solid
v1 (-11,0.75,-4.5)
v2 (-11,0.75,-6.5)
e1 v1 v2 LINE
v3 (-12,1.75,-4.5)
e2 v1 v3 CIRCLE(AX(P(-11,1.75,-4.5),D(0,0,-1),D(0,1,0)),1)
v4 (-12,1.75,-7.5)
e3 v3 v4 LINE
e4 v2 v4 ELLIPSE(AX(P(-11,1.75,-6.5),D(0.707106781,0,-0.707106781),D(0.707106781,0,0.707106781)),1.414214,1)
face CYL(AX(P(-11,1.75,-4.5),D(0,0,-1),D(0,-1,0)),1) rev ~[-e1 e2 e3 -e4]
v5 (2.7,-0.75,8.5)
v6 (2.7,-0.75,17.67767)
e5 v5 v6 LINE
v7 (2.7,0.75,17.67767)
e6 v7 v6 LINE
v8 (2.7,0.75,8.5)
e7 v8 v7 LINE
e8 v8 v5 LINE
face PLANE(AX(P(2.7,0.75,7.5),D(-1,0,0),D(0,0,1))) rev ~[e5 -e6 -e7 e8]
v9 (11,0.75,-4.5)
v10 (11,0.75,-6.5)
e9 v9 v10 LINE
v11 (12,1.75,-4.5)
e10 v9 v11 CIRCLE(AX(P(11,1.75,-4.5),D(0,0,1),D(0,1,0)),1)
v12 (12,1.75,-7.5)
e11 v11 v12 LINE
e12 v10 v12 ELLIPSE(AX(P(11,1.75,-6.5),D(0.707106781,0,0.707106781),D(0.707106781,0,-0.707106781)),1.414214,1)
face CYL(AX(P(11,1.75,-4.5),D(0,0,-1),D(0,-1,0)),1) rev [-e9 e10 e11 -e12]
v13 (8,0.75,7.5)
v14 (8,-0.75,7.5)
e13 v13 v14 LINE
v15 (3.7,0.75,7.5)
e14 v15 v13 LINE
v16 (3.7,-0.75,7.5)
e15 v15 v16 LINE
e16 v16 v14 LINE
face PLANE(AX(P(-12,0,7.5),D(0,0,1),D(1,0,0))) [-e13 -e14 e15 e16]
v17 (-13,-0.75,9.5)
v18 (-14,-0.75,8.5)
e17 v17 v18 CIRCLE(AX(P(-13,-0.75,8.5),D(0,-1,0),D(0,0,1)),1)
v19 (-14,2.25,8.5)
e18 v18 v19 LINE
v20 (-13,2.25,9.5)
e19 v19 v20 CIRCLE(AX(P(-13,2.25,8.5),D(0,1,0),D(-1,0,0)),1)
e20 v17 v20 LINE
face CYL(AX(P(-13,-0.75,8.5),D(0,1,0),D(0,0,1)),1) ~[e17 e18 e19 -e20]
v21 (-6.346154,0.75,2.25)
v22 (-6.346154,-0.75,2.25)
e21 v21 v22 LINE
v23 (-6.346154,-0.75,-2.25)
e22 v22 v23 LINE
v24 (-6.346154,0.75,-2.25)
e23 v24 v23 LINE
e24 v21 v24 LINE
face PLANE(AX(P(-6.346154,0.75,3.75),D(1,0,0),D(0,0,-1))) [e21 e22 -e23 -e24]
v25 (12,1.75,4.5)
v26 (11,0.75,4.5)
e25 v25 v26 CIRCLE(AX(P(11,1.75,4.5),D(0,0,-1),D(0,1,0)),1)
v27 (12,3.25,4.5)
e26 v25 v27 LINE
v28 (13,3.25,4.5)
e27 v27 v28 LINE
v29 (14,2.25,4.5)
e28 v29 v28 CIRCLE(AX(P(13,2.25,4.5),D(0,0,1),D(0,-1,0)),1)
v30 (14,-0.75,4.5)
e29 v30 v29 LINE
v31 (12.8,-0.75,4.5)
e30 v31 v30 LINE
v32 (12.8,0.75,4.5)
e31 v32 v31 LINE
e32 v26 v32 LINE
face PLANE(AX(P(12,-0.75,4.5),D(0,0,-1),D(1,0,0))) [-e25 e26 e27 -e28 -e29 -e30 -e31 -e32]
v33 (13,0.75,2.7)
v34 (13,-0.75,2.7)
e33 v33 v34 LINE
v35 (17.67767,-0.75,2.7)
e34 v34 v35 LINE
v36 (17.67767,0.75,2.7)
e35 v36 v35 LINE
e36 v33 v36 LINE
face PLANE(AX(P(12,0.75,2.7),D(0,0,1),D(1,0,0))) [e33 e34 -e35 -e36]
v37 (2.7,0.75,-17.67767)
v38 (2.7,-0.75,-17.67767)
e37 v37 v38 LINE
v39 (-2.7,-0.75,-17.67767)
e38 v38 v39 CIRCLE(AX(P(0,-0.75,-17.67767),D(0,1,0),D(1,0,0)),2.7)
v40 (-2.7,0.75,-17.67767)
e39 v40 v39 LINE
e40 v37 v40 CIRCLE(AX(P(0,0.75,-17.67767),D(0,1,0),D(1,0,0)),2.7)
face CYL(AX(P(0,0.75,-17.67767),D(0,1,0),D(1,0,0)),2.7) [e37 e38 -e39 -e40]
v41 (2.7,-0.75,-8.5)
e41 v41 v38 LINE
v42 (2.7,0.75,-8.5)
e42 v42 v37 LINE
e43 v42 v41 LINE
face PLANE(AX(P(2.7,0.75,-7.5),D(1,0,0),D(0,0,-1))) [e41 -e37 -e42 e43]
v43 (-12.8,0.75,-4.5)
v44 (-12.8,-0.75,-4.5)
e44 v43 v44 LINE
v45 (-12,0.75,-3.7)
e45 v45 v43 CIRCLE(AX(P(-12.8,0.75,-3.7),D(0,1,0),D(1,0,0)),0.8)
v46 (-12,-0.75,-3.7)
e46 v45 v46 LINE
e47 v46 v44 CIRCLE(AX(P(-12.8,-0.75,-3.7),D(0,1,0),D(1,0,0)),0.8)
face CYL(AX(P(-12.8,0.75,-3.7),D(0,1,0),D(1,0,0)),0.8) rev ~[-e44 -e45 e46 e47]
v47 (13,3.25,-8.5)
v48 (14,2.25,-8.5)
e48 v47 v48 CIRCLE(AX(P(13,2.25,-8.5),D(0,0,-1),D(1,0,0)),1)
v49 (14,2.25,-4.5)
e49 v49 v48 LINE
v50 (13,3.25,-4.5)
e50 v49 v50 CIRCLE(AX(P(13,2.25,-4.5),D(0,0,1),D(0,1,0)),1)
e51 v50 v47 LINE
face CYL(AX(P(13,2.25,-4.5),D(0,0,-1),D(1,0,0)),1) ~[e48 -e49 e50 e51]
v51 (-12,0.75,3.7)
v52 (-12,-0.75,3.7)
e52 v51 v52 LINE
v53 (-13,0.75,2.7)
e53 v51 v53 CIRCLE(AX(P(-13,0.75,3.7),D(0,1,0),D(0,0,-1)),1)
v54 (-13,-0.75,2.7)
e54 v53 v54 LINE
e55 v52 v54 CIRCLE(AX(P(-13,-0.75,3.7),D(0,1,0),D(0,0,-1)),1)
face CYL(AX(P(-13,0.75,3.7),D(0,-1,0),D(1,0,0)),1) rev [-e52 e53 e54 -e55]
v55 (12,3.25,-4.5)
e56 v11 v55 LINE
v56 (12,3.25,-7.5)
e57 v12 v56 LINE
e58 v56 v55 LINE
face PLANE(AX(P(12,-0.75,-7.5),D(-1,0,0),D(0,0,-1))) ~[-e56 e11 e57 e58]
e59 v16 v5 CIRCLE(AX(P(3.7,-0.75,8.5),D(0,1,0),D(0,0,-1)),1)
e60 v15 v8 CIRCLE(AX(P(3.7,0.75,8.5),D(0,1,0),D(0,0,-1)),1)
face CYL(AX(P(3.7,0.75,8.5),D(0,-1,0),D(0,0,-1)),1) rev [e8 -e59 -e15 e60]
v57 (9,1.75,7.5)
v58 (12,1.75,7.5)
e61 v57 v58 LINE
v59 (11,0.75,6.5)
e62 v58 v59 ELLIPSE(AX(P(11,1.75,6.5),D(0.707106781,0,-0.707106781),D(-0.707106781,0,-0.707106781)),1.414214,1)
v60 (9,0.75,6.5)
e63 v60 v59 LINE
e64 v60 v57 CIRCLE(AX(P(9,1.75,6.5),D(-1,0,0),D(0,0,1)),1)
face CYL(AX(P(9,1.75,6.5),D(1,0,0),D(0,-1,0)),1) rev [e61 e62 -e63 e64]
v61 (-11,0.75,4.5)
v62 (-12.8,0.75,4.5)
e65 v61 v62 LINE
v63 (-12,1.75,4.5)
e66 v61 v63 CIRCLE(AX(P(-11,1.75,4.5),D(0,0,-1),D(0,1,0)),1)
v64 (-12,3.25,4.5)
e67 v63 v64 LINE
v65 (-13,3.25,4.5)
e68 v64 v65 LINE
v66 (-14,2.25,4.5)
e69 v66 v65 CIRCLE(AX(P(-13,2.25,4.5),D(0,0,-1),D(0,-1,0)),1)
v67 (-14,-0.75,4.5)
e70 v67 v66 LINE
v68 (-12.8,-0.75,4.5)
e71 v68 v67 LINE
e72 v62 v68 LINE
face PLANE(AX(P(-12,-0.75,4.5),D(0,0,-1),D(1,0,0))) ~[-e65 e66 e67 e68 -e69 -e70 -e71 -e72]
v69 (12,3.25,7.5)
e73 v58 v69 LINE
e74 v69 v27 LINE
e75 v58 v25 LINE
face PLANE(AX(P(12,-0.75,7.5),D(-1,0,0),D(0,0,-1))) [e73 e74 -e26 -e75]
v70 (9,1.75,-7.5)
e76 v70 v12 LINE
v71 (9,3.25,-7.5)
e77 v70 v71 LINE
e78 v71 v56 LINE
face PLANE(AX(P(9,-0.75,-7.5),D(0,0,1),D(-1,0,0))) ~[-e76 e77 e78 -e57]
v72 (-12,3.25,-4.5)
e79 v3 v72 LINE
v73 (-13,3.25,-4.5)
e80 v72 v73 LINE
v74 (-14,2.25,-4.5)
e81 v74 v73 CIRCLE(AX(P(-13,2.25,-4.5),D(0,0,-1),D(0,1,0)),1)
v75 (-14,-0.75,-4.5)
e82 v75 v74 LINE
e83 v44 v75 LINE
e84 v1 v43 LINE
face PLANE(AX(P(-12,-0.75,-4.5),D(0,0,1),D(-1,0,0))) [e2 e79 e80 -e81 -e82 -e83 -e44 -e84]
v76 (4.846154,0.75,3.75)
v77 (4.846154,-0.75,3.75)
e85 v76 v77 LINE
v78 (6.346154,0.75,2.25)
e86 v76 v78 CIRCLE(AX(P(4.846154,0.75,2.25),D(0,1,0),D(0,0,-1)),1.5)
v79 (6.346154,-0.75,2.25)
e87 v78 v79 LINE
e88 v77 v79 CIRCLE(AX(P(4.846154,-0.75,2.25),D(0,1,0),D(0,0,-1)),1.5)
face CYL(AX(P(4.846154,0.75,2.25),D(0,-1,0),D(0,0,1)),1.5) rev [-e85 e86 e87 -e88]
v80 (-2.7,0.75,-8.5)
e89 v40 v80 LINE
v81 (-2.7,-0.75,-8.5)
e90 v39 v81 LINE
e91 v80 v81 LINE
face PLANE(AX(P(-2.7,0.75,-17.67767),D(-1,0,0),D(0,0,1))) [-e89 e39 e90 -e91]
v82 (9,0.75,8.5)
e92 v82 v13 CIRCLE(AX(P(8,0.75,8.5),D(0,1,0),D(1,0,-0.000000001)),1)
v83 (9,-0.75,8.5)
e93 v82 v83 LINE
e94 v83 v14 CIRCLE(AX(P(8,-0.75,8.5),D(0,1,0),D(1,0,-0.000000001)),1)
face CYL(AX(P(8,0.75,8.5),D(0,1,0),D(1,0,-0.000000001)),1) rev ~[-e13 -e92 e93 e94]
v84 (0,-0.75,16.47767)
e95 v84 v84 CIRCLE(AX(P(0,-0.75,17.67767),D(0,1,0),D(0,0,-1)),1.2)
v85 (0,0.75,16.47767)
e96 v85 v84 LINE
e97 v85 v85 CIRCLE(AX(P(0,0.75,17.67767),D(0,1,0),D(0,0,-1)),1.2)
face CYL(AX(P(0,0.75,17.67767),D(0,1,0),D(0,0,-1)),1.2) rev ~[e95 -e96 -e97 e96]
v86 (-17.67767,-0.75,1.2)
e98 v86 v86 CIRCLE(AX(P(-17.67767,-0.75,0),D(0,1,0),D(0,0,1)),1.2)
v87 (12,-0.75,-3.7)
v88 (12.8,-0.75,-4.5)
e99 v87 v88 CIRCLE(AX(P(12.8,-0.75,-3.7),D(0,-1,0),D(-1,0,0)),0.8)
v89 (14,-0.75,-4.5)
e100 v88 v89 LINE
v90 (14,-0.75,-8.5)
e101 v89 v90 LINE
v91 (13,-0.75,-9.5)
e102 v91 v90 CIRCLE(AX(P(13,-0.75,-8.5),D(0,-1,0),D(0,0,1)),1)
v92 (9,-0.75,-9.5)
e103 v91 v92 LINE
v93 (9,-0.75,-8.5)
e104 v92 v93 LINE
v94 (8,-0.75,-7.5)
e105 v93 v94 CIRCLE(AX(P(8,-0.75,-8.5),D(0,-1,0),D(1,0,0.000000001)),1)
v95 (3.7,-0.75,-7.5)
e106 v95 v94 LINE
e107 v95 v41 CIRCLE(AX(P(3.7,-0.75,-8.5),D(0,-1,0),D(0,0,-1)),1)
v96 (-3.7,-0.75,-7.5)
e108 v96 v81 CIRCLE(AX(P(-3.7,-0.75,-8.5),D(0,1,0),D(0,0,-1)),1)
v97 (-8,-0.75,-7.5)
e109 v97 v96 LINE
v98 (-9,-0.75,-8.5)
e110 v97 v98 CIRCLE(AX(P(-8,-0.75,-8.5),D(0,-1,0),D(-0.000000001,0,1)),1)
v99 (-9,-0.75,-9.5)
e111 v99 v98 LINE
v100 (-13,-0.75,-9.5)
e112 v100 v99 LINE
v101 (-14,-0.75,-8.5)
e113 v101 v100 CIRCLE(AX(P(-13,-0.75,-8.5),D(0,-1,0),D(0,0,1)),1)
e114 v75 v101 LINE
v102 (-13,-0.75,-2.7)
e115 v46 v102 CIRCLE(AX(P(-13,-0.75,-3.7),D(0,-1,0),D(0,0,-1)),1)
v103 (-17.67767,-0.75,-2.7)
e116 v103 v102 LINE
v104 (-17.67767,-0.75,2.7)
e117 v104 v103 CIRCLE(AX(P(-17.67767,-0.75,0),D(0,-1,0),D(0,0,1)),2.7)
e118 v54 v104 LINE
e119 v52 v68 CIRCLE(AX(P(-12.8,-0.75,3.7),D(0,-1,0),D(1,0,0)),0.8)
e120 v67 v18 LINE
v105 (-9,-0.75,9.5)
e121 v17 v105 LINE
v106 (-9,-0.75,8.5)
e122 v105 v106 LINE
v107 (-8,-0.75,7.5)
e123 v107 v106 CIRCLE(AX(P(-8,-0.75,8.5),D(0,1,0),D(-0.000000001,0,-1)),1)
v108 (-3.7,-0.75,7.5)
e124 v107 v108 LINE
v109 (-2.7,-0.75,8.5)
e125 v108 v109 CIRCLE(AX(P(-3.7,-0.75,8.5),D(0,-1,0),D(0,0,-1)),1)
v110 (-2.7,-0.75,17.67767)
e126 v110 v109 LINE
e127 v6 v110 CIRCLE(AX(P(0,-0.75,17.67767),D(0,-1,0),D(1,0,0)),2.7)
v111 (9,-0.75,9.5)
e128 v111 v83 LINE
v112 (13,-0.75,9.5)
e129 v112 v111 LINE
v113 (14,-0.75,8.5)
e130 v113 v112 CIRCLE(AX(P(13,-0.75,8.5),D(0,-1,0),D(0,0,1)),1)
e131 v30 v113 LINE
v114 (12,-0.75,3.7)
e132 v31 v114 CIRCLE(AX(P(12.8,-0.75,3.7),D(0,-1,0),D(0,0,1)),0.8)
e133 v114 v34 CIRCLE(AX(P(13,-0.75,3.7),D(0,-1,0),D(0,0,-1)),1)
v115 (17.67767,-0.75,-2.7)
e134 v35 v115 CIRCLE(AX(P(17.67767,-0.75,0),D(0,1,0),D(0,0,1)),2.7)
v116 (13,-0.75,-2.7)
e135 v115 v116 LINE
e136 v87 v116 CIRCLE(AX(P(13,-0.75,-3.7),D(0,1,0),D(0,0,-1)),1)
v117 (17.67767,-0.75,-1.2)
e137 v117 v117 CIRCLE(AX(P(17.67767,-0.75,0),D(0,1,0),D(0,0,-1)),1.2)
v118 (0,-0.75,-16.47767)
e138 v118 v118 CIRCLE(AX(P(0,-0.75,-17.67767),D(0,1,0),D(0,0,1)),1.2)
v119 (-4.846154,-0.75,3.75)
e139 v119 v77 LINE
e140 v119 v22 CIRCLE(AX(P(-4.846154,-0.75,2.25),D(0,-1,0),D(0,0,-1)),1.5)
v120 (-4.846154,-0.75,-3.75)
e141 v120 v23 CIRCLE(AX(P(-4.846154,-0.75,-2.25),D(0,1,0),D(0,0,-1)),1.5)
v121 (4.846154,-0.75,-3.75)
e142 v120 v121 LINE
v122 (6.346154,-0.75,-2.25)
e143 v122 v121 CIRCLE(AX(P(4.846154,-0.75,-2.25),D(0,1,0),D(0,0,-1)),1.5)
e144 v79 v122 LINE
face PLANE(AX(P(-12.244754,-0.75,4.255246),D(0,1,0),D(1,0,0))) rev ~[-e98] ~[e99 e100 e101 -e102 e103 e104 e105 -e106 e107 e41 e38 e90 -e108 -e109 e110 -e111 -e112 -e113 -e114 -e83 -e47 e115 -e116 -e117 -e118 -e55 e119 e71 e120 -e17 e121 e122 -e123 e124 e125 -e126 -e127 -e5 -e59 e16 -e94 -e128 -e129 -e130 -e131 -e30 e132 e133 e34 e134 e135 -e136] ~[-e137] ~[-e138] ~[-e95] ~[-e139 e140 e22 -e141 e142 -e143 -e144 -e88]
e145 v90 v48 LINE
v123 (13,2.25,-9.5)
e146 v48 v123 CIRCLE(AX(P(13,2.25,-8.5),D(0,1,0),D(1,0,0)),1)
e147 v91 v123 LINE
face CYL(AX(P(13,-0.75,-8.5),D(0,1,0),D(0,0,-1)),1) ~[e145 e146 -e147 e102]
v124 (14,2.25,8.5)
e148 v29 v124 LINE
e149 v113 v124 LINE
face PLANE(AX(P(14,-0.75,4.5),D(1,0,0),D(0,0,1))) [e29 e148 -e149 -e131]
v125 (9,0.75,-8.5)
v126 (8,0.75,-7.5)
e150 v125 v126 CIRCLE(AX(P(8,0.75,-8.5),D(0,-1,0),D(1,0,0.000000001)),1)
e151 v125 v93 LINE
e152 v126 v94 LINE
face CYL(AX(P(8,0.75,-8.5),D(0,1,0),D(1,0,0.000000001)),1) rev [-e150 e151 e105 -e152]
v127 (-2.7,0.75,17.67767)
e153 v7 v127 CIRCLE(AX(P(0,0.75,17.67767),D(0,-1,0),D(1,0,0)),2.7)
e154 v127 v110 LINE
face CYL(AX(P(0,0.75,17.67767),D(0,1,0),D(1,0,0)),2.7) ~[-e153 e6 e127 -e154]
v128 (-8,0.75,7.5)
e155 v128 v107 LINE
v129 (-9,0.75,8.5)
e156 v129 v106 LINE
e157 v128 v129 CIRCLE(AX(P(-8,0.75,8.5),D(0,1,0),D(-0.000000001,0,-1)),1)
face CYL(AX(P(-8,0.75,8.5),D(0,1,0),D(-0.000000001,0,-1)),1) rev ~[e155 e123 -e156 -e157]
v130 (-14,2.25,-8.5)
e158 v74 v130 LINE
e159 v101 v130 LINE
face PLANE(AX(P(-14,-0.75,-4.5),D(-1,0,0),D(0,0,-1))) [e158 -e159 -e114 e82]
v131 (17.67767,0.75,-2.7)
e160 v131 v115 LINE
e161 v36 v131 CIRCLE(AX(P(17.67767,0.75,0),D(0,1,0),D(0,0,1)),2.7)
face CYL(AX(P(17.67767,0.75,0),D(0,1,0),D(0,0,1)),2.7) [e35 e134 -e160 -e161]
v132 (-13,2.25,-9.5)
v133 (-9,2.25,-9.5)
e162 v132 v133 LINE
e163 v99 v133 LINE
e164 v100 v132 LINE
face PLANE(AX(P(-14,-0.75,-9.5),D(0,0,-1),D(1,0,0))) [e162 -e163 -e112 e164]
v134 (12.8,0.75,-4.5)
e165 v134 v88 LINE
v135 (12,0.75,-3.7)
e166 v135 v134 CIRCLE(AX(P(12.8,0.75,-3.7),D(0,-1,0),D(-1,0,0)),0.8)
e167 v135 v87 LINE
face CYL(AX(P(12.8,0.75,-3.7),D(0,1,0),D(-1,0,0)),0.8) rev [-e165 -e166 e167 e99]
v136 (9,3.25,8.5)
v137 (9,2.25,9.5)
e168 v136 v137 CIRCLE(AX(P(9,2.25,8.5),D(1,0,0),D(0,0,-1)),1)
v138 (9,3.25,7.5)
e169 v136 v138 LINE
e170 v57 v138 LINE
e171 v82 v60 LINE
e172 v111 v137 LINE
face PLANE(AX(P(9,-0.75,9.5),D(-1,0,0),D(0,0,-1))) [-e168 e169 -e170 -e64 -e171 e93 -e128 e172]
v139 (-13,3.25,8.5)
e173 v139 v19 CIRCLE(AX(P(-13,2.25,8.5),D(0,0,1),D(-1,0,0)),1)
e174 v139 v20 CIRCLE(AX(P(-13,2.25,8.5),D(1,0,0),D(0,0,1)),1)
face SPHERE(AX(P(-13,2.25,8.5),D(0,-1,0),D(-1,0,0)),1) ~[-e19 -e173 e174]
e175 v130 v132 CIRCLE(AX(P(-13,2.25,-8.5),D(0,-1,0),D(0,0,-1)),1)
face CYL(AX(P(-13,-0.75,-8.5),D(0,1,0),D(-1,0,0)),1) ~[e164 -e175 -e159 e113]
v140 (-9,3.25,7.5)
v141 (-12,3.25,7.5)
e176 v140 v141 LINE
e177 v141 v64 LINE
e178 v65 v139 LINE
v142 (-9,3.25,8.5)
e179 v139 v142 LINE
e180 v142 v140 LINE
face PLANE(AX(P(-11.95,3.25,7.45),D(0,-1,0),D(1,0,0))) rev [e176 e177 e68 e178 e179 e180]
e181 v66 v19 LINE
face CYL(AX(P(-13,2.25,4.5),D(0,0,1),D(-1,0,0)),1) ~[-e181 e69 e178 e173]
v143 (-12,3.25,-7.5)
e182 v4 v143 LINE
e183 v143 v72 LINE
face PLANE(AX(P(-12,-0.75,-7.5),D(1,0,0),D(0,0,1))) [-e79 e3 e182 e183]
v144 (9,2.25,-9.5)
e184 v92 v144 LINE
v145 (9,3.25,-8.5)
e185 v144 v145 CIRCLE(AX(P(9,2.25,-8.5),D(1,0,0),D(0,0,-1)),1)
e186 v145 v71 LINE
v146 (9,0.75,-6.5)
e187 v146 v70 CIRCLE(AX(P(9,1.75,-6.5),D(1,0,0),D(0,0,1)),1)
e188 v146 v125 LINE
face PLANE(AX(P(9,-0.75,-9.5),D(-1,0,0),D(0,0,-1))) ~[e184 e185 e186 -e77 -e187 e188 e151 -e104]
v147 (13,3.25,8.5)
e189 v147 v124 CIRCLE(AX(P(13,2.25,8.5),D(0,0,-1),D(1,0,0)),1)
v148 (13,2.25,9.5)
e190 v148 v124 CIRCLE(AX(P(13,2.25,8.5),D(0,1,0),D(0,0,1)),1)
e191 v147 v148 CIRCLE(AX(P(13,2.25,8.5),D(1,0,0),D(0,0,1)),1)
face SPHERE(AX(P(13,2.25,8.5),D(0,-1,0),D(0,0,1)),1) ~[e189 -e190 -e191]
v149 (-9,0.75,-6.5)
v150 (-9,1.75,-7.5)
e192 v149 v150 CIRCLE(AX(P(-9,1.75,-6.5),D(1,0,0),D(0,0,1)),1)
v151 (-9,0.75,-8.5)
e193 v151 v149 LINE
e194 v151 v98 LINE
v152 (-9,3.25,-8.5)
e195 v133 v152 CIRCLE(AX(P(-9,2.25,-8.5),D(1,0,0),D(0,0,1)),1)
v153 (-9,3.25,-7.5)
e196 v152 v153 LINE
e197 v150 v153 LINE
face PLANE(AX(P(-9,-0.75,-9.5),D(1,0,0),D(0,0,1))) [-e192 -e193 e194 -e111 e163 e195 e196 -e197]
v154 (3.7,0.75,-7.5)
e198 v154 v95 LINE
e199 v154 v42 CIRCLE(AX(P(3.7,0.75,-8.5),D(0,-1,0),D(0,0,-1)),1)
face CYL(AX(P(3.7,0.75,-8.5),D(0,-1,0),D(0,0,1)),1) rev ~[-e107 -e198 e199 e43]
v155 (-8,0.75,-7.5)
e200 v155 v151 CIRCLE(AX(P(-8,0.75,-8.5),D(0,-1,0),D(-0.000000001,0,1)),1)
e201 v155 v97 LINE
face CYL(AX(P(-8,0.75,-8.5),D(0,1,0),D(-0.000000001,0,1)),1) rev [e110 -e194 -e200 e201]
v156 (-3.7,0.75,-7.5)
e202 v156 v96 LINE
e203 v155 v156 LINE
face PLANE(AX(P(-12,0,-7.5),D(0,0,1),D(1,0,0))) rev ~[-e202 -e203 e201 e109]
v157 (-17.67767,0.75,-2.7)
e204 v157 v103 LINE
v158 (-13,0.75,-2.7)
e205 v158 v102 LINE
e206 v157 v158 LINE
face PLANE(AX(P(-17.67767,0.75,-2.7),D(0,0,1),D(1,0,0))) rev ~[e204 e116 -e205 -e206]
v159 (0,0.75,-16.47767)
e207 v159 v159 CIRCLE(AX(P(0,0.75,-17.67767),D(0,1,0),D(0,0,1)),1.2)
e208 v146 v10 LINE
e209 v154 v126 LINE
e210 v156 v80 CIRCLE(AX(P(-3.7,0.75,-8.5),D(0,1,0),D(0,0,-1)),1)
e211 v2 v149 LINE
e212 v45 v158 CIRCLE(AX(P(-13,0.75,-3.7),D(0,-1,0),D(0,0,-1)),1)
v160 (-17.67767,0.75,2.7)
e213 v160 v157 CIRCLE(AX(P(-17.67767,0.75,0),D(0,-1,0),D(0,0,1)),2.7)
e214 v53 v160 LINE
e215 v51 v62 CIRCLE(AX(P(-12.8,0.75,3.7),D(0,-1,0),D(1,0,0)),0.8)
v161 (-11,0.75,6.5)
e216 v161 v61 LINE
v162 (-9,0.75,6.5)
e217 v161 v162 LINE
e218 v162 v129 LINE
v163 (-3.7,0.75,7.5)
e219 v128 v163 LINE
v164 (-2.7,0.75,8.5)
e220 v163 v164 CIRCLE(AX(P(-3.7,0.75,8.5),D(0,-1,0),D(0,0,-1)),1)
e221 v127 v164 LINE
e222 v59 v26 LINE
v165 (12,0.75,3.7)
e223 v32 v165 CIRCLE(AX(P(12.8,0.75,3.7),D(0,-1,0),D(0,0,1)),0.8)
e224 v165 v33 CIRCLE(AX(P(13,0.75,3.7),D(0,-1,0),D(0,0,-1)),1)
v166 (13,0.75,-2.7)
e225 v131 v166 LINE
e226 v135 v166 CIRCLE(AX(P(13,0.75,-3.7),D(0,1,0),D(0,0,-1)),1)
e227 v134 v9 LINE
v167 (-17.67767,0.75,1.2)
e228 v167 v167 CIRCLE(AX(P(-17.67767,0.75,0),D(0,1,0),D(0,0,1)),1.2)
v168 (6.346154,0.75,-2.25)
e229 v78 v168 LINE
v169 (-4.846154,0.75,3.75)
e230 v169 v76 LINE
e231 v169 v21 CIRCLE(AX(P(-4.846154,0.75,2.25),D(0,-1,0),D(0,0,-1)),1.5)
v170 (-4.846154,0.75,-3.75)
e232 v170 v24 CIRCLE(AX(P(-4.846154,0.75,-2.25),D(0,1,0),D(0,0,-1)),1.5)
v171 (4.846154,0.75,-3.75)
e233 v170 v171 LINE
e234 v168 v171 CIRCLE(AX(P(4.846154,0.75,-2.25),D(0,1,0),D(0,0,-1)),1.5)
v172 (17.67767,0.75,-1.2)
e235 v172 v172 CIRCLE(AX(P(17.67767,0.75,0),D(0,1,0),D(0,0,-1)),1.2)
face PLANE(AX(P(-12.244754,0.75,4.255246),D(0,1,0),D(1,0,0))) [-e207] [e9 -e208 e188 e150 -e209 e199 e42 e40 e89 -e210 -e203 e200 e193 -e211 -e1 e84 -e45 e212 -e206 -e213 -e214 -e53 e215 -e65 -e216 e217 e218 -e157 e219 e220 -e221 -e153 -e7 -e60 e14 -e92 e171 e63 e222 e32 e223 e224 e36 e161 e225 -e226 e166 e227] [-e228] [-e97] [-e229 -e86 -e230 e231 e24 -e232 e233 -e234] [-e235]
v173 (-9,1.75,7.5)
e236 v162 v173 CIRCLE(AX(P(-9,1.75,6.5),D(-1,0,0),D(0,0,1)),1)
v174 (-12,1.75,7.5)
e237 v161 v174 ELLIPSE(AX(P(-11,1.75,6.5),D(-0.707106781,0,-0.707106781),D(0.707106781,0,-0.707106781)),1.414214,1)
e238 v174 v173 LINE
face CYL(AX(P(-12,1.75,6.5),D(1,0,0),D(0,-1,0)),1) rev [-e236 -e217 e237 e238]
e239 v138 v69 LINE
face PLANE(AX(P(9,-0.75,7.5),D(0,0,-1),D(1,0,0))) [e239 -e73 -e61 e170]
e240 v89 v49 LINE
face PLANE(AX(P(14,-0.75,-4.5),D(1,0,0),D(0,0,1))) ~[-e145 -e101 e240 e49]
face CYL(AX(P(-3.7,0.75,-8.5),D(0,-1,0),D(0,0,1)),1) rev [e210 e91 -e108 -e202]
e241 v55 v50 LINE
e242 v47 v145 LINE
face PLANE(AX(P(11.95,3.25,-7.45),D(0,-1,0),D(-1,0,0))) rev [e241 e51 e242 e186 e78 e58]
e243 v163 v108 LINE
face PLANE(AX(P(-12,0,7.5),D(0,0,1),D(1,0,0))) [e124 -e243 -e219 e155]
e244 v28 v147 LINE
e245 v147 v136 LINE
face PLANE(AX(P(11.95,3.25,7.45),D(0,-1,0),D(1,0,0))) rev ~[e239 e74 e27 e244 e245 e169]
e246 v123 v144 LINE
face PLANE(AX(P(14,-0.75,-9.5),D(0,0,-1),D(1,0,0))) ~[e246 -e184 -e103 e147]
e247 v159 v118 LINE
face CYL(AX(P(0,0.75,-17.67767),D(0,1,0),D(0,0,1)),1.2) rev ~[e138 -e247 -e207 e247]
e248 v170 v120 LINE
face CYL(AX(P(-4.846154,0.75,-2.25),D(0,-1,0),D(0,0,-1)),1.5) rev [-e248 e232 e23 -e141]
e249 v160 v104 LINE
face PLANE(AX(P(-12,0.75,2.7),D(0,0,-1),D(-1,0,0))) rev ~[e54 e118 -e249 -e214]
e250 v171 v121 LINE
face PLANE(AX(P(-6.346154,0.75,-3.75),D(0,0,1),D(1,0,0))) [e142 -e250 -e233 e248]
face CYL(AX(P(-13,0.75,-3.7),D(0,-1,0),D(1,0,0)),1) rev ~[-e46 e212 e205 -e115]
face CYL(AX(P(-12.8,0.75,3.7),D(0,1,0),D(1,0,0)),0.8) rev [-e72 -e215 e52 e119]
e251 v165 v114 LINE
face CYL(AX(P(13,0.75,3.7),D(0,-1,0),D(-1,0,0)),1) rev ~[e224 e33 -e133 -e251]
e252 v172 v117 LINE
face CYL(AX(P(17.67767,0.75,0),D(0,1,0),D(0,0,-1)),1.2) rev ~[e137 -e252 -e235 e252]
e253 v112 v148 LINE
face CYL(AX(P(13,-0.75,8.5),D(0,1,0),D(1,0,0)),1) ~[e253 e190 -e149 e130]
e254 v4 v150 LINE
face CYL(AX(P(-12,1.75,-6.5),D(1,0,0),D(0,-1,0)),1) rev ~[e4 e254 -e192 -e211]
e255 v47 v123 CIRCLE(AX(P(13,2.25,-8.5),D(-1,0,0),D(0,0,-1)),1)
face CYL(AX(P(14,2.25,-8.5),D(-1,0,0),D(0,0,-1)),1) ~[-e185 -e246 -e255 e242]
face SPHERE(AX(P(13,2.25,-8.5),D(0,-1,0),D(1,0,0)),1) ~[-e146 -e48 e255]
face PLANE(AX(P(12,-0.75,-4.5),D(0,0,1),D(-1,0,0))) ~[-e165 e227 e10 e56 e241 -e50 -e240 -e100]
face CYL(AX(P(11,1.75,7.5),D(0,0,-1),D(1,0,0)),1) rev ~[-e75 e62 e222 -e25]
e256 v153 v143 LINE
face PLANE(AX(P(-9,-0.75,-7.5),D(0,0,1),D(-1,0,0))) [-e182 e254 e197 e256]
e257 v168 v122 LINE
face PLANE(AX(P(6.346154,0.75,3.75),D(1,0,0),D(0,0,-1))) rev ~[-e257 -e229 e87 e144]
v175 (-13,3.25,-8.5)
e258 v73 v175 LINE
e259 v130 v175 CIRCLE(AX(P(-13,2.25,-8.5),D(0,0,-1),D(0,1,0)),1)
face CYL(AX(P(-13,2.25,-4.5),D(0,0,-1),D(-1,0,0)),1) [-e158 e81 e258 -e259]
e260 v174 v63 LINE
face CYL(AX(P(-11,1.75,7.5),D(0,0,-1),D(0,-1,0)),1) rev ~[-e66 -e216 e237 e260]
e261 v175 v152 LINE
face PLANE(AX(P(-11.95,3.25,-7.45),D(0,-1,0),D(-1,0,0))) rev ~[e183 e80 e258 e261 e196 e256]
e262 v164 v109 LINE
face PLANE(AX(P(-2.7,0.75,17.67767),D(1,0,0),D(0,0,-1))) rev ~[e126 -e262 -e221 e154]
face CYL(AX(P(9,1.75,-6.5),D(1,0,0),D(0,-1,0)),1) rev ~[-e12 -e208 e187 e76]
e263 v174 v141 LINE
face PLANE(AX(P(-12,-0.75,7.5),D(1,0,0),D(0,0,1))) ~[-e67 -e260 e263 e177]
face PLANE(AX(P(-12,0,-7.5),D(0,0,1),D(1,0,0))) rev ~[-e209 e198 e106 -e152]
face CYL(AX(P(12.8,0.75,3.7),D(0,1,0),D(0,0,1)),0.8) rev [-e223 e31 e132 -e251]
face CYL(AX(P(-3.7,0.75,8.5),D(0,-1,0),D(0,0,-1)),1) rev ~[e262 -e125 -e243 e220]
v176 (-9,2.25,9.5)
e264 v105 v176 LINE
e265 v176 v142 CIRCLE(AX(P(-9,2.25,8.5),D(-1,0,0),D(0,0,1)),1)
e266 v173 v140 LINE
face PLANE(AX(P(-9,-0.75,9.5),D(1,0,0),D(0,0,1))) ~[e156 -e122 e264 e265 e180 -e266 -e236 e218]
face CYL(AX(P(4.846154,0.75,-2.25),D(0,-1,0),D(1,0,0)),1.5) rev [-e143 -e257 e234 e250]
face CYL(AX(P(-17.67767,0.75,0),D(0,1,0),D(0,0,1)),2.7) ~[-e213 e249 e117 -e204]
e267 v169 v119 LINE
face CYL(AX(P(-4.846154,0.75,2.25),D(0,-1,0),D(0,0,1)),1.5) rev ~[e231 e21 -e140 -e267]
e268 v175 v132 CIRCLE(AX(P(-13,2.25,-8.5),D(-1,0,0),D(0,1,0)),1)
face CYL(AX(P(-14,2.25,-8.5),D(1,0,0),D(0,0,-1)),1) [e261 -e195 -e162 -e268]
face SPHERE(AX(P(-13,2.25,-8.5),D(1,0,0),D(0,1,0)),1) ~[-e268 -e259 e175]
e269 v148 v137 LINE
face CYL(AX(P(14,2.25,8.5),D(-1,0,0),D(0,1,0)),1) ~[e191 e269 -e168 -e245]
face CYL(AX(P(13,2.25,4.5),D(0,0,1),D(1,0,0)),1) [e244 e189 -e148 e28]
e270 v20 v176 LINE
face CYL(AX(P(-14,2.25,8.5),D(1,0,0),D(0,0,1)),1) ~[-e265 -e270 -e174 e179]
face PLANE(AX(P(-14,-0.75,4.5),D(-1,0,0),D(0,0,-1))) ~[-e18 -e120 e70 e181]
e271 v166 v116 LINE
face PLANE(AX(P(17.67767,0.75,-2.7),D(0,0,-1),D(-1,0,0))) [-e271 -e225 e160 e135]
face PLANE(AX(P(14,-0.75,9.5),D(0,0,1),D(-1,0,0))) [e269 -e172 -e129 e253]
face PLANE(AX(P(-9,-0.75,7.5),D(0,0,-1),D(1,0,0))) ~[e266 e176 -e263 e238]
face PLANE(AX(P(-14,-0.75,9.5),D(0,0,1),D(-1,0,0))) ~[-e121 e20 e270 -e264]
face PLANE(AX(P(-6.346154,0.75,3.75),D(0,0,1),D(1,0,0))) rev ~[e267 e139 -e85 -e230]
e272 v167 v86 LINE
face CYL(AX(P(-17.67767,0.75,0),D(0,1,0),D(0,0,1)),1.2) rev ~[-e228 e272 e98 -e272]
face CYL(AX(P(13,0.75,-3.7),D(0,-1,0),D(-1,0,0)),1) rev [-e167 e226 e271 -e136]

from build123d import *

# Parameters (mm, degrees)
SKETCH1_W            = 24
SKETCH1_H            = 15
BOSS_EXTRUDE1_DEPTH  = 0.75
BOSS_EXTRUDE2_START  = -1.5
BOSS_EXTRUDE2_DEPTH  = 4
MIRROR2_START        = -1.5
MIRROR2_COPY_1_DEPTH = 4
SKETCH3_R            = 1.2
BOSS_EXTRUDE3_DEPTH  = 1.5
FILLET1_R            = 1
BOSS_EXTRUDE4_DEPTH  = 1.5
SKETCH5_W            = 12.692307692
SKETCH5_H            = 7.5
CUT_EXTRUDE1_DEPTH   = 1.5
FILLET2_R            = 1.5


with BuildPart() as part:
    # Sketch1 → Boss-Extrude1 (new, symmetric)
    with BuildSketch(Plane(origin=(0, 0, 0), x_dir=(1, 0, 0), z_dir=(0, 1, 0))):
        Rectangle(SKETCH1_W, SKETCH1_H)
    extrude(amount=BOSS_EXTRUDE1_DEPTH, both=True)

    # Sketch2 → Boss-Extrude2 (add)
    with BuildSketch(Plane(origin=(0, 0.75, 0), x_dir=(1, 0, 0), z_dir=(0, 1, 0)).offset(BOSS_EXTRUDE2_START)):
        Polygon((-12, 4.5), (-14, 4.5), (-14, 9.5), (-9, 9.5), (-9, 7.5), (-12, 7.5), align=None)
    boss_extrude2 = extrude(amount=BOSS_EXTRUDE2_DEPTH)

    # Mirror1: Boss-Extrude2 across plane
    add(boss_extrude2.mirror(Plane(origin=(0, 0, 0), x_dir=(0, 0, 1), z_dir=(1, 0, 0))))

    # Mirror2: Boss-Extrude2 across plane
    add(boss_extrude2.mirror(Plane.XY))

    # Mirror2 copy 1 sketch → Mirror2 copy 1 (add)
    with BuildSketch(Plane(origin=(0, 0.75, 0), x_dir=(-1, 0, 0), z_dir=(0, 1, 0)).offset(MIRROR2_START)):
        Polygon((-12, 4.5), (-14, 4.5), (-14, 9.5), (-9, 9.5), (-9, 7.5), (-12, 7.5), align=None)
    extrude(amount=MIRROR2_COPY_1_DEPTH)

    # Sketch3 → Boss-Extrude3 (add)
    # profile 1 of 4: a face of its own
    with BuildSketch(Plane(origin=(0, 0.75, 0), x_dir=(1, 0, 0), z_dir=(0, 1, 0))):
        with BuildLine():
            Line((-17.67766953, 2.7), (-12, 2.7))
            Line((-12, 2.7), (-12, -2.7))
            Line((-12, -2.7), (-17.67766953, -2.7))
            ThreePointArc((-17.67766953, -2.7), (-20.37766953, 0), (-17.67766953, 2.7))
        make_face()
        with Locations(Location((-17.67766953, 0, 0), (0, 0, 270))):
            Circle(SKETCH3_R, mode=Mode.SUBTRACT)
    # profile 2 of 4: a face of its own
    with BuildSketch(Plane(origin=(0, 0.75, 0), x_dir=(1, 0, 0), z_dir=(0, 1, 0))):
        with BuildLine():
            Line((-2.7, 17.67766953), (-2.7, 7.5))
            Line((-2.7, 7.5), (2.7, 7.5))
            Line((2.7, 7.5), (2.7, 17.67766953))
            ThreePointArc((2.7, 17.67766953), (0, 20.37766953), (-2.7, 17.67766953))
        make_face()
        with Locations(Location((0, 17.67766953, 0), (0, 0, 270))):
            Circle(SKETCH3_R, mode=Mode.SUBTRACT)
    # profile 3 of 4: a face of its own
    with BuildSketch(Plane(origin=(0, 0.75, 0), x_dir=(1, 0, 0), z_dir=(0, 1, 0))):
        with BuildLine():
            Line((12, -2.7), (17.67766953, -2.7))
            ThreePointArc((17.67766953, -2.7), (20.37766953, 0), (17.67766953, 2.7))
            Line((17.67766953, 2.7), (12, 2.7))
            Line((12, 2.7), (12, -2.7))
        make_face()
        with Locations(Location((17.67766953, 0, 0), (0, 0, 90))):
            Circle(SKETCH3_R, mode=Mode.SUBTRACT)
    # profile 4 of 4: a face of its own
    with BuildSketch(Plane(origin=(0, 0.75, 0), x_dir=(1, 0, 0), z_dir=(0, 1, 0))):
        with BuildLine():
            Line((-2.7, -7.5), (2.7, -7.5))
            Line((2.7, -7.5), (2.7, -17.67766953))
            ThreePointArc((2.7, -17.67766953), (0, -20.37766953), (-2.7, -17.67766953))
            Line((-2.7, -17.67766953), (-2.7, -7.5))
        make_face()
        with Locations(Location((0, -17.67766953, 0), (0, 0, 90))):
            Circle(SKETCH3_R, mode=Mode.SUBTRACT)
    extrude(amount=-BOSS_EXTRUDE3_DEPTH)

    # Fillet1
    fillet1_edges = [part.edges().sort_by_distance(p)[0] for p in [
        (-14, 1.25, 9.5),
        (-14, 3.25, 7),
        (-11.5, 3.25, 9.5),
        (14, 1.25, 9.5),
        (11.5, 3.25, 9.5),
        (14, 3.25, 7),
        (14, 1.25, -9.5),
        (14, 3.25, -7),
        (11.5, 3.25, -9.5),
        (-11.5, 3.25, -9.5),
        (-14, 3.25, -7),
        (-14, 1.25, -9.5),
        (-10.5, 0.75, -7.5),
        (-12, 0.75, -6),
        (10.5, 0.75, -7.5),
        (12, 0.75, -6),
        (12, 0.75, 6),
        (10.5, 0.75, 7.5),
        (-10.5, 0.75, 7.5),
        (-12, 0.75, 6),
        (2.7, 0, -7.5),
        (-2.7, 0, -7.5),
        (-2.7, 0, 7.5),
        (2.7, 0, 7.5),
        (12, 0, 2.7),
        (12, 0, -2.7),
        (-12, 0, 2.7),
        (-12, 0, -2.7),
    ]]
    fillet(fillet1_edges, radius=FILLET1_R)

    # Sketch4 → Boss-Extrude4 (add)
    with BuildSketch(Plane(origin=(0, 0.75, 0), x_dir=(1, 0, 0), z_dir=(0, 1, 0))):
        with BuildLine():
            Line((-12.8, -4.5), (-12, -4.5))
            Line((-12, -4.5), (-12, -3.7))
            ThreePointArc((-12, -3.7), (-12.234314575, -4.265685425), (-12.8, -4.5))
        make_face()
        with BuildLine():
            Line((-12.8, 4.5), (-12, 4.5))
            Line((-12, 4.5), (-12, 3.7))
            ThreePointArc((-12, 3.7), (-12.234314575, 4.265685425), (-12.8, 4.5))
        make_face()
        with BuildLine():
            Line((12.8, 4.5), (12, 4.5))
            Line((12, 4.5), (12, 3.7))
            ThreePointArc((12, 3.7), (12.234314575, 4.265685425), (12.8, 4.5))
        make_face()
        with BuildLine():
            Line((12, -3.7), (12, -4.5))
            Line((12, -4.5), (12.8, -4.5))
            ThreePointArc((12.8, -4.5), (12.234314575, -4.265685425), (12, -3.7))
        make_face()
        with BuildLine():
            Line((-9, 8.5), (-9, 7.5))
            Line((-9, 7.5), (-8, 7.5))
            ThreePointArc((-8, 7.5), (-8.707106781, 7.792893219), (-9, 8.5))
        make_face()
        with BuildLine():
            Line((8, 7.5), (9, 7.5))
            Line((9, 7.5), (9, 8.5))
            ThreePointArc((9, 8.5), (8.707106781, 7.792893219), (8, 7.5))
        make_face()
        with BuildLine():
            Line((8, -7.5), (9, -7.5))
            Line((9, -7.5), (9, -8.5))
            ThreePointArc((9, -8.5), (8.707106781, -7.792893219), (8, -7.5))
        make_face()
        with BuildLine():
            Line((-9, -8.5), (-9, -7.5))
            Line((-9, -7.5), (-8, -7.5))
            ThreePointArc((-8, -7.5), (-8.707106781, -7.792893219), (-9, -8.5))
        make_face()
    extrude(amount=-BOSS_EXTRUDE4_DEPTH)

    # Sketch5 → Cut-Extrude1 (cut)
    with BuildSketch(Plane(origin=(0, 0.75, 0), x_dir=(1, 0, 0), z_dir=(0, 1, 0))):
        Rectangle(SKETCH5_W, SKETCH5_H)
    extrude(amount=-CUT_EXTRUDE1_DEPTH, mode=Mode.SUBTRACT)

    # Fillet2
    fillet2_edges = [part.edges().sort_by_distance(p)[0] for p in [
        (6.346153846, 0, 3.75),
        (6.346153846, 0, -3.75),
        (-6.346153846, 0, -3.75),
        (-6.346153846, 0, 3.75),
    ]]
    fillet(fillet2_edges, radius=FILLET2_R)


solid = part.part
